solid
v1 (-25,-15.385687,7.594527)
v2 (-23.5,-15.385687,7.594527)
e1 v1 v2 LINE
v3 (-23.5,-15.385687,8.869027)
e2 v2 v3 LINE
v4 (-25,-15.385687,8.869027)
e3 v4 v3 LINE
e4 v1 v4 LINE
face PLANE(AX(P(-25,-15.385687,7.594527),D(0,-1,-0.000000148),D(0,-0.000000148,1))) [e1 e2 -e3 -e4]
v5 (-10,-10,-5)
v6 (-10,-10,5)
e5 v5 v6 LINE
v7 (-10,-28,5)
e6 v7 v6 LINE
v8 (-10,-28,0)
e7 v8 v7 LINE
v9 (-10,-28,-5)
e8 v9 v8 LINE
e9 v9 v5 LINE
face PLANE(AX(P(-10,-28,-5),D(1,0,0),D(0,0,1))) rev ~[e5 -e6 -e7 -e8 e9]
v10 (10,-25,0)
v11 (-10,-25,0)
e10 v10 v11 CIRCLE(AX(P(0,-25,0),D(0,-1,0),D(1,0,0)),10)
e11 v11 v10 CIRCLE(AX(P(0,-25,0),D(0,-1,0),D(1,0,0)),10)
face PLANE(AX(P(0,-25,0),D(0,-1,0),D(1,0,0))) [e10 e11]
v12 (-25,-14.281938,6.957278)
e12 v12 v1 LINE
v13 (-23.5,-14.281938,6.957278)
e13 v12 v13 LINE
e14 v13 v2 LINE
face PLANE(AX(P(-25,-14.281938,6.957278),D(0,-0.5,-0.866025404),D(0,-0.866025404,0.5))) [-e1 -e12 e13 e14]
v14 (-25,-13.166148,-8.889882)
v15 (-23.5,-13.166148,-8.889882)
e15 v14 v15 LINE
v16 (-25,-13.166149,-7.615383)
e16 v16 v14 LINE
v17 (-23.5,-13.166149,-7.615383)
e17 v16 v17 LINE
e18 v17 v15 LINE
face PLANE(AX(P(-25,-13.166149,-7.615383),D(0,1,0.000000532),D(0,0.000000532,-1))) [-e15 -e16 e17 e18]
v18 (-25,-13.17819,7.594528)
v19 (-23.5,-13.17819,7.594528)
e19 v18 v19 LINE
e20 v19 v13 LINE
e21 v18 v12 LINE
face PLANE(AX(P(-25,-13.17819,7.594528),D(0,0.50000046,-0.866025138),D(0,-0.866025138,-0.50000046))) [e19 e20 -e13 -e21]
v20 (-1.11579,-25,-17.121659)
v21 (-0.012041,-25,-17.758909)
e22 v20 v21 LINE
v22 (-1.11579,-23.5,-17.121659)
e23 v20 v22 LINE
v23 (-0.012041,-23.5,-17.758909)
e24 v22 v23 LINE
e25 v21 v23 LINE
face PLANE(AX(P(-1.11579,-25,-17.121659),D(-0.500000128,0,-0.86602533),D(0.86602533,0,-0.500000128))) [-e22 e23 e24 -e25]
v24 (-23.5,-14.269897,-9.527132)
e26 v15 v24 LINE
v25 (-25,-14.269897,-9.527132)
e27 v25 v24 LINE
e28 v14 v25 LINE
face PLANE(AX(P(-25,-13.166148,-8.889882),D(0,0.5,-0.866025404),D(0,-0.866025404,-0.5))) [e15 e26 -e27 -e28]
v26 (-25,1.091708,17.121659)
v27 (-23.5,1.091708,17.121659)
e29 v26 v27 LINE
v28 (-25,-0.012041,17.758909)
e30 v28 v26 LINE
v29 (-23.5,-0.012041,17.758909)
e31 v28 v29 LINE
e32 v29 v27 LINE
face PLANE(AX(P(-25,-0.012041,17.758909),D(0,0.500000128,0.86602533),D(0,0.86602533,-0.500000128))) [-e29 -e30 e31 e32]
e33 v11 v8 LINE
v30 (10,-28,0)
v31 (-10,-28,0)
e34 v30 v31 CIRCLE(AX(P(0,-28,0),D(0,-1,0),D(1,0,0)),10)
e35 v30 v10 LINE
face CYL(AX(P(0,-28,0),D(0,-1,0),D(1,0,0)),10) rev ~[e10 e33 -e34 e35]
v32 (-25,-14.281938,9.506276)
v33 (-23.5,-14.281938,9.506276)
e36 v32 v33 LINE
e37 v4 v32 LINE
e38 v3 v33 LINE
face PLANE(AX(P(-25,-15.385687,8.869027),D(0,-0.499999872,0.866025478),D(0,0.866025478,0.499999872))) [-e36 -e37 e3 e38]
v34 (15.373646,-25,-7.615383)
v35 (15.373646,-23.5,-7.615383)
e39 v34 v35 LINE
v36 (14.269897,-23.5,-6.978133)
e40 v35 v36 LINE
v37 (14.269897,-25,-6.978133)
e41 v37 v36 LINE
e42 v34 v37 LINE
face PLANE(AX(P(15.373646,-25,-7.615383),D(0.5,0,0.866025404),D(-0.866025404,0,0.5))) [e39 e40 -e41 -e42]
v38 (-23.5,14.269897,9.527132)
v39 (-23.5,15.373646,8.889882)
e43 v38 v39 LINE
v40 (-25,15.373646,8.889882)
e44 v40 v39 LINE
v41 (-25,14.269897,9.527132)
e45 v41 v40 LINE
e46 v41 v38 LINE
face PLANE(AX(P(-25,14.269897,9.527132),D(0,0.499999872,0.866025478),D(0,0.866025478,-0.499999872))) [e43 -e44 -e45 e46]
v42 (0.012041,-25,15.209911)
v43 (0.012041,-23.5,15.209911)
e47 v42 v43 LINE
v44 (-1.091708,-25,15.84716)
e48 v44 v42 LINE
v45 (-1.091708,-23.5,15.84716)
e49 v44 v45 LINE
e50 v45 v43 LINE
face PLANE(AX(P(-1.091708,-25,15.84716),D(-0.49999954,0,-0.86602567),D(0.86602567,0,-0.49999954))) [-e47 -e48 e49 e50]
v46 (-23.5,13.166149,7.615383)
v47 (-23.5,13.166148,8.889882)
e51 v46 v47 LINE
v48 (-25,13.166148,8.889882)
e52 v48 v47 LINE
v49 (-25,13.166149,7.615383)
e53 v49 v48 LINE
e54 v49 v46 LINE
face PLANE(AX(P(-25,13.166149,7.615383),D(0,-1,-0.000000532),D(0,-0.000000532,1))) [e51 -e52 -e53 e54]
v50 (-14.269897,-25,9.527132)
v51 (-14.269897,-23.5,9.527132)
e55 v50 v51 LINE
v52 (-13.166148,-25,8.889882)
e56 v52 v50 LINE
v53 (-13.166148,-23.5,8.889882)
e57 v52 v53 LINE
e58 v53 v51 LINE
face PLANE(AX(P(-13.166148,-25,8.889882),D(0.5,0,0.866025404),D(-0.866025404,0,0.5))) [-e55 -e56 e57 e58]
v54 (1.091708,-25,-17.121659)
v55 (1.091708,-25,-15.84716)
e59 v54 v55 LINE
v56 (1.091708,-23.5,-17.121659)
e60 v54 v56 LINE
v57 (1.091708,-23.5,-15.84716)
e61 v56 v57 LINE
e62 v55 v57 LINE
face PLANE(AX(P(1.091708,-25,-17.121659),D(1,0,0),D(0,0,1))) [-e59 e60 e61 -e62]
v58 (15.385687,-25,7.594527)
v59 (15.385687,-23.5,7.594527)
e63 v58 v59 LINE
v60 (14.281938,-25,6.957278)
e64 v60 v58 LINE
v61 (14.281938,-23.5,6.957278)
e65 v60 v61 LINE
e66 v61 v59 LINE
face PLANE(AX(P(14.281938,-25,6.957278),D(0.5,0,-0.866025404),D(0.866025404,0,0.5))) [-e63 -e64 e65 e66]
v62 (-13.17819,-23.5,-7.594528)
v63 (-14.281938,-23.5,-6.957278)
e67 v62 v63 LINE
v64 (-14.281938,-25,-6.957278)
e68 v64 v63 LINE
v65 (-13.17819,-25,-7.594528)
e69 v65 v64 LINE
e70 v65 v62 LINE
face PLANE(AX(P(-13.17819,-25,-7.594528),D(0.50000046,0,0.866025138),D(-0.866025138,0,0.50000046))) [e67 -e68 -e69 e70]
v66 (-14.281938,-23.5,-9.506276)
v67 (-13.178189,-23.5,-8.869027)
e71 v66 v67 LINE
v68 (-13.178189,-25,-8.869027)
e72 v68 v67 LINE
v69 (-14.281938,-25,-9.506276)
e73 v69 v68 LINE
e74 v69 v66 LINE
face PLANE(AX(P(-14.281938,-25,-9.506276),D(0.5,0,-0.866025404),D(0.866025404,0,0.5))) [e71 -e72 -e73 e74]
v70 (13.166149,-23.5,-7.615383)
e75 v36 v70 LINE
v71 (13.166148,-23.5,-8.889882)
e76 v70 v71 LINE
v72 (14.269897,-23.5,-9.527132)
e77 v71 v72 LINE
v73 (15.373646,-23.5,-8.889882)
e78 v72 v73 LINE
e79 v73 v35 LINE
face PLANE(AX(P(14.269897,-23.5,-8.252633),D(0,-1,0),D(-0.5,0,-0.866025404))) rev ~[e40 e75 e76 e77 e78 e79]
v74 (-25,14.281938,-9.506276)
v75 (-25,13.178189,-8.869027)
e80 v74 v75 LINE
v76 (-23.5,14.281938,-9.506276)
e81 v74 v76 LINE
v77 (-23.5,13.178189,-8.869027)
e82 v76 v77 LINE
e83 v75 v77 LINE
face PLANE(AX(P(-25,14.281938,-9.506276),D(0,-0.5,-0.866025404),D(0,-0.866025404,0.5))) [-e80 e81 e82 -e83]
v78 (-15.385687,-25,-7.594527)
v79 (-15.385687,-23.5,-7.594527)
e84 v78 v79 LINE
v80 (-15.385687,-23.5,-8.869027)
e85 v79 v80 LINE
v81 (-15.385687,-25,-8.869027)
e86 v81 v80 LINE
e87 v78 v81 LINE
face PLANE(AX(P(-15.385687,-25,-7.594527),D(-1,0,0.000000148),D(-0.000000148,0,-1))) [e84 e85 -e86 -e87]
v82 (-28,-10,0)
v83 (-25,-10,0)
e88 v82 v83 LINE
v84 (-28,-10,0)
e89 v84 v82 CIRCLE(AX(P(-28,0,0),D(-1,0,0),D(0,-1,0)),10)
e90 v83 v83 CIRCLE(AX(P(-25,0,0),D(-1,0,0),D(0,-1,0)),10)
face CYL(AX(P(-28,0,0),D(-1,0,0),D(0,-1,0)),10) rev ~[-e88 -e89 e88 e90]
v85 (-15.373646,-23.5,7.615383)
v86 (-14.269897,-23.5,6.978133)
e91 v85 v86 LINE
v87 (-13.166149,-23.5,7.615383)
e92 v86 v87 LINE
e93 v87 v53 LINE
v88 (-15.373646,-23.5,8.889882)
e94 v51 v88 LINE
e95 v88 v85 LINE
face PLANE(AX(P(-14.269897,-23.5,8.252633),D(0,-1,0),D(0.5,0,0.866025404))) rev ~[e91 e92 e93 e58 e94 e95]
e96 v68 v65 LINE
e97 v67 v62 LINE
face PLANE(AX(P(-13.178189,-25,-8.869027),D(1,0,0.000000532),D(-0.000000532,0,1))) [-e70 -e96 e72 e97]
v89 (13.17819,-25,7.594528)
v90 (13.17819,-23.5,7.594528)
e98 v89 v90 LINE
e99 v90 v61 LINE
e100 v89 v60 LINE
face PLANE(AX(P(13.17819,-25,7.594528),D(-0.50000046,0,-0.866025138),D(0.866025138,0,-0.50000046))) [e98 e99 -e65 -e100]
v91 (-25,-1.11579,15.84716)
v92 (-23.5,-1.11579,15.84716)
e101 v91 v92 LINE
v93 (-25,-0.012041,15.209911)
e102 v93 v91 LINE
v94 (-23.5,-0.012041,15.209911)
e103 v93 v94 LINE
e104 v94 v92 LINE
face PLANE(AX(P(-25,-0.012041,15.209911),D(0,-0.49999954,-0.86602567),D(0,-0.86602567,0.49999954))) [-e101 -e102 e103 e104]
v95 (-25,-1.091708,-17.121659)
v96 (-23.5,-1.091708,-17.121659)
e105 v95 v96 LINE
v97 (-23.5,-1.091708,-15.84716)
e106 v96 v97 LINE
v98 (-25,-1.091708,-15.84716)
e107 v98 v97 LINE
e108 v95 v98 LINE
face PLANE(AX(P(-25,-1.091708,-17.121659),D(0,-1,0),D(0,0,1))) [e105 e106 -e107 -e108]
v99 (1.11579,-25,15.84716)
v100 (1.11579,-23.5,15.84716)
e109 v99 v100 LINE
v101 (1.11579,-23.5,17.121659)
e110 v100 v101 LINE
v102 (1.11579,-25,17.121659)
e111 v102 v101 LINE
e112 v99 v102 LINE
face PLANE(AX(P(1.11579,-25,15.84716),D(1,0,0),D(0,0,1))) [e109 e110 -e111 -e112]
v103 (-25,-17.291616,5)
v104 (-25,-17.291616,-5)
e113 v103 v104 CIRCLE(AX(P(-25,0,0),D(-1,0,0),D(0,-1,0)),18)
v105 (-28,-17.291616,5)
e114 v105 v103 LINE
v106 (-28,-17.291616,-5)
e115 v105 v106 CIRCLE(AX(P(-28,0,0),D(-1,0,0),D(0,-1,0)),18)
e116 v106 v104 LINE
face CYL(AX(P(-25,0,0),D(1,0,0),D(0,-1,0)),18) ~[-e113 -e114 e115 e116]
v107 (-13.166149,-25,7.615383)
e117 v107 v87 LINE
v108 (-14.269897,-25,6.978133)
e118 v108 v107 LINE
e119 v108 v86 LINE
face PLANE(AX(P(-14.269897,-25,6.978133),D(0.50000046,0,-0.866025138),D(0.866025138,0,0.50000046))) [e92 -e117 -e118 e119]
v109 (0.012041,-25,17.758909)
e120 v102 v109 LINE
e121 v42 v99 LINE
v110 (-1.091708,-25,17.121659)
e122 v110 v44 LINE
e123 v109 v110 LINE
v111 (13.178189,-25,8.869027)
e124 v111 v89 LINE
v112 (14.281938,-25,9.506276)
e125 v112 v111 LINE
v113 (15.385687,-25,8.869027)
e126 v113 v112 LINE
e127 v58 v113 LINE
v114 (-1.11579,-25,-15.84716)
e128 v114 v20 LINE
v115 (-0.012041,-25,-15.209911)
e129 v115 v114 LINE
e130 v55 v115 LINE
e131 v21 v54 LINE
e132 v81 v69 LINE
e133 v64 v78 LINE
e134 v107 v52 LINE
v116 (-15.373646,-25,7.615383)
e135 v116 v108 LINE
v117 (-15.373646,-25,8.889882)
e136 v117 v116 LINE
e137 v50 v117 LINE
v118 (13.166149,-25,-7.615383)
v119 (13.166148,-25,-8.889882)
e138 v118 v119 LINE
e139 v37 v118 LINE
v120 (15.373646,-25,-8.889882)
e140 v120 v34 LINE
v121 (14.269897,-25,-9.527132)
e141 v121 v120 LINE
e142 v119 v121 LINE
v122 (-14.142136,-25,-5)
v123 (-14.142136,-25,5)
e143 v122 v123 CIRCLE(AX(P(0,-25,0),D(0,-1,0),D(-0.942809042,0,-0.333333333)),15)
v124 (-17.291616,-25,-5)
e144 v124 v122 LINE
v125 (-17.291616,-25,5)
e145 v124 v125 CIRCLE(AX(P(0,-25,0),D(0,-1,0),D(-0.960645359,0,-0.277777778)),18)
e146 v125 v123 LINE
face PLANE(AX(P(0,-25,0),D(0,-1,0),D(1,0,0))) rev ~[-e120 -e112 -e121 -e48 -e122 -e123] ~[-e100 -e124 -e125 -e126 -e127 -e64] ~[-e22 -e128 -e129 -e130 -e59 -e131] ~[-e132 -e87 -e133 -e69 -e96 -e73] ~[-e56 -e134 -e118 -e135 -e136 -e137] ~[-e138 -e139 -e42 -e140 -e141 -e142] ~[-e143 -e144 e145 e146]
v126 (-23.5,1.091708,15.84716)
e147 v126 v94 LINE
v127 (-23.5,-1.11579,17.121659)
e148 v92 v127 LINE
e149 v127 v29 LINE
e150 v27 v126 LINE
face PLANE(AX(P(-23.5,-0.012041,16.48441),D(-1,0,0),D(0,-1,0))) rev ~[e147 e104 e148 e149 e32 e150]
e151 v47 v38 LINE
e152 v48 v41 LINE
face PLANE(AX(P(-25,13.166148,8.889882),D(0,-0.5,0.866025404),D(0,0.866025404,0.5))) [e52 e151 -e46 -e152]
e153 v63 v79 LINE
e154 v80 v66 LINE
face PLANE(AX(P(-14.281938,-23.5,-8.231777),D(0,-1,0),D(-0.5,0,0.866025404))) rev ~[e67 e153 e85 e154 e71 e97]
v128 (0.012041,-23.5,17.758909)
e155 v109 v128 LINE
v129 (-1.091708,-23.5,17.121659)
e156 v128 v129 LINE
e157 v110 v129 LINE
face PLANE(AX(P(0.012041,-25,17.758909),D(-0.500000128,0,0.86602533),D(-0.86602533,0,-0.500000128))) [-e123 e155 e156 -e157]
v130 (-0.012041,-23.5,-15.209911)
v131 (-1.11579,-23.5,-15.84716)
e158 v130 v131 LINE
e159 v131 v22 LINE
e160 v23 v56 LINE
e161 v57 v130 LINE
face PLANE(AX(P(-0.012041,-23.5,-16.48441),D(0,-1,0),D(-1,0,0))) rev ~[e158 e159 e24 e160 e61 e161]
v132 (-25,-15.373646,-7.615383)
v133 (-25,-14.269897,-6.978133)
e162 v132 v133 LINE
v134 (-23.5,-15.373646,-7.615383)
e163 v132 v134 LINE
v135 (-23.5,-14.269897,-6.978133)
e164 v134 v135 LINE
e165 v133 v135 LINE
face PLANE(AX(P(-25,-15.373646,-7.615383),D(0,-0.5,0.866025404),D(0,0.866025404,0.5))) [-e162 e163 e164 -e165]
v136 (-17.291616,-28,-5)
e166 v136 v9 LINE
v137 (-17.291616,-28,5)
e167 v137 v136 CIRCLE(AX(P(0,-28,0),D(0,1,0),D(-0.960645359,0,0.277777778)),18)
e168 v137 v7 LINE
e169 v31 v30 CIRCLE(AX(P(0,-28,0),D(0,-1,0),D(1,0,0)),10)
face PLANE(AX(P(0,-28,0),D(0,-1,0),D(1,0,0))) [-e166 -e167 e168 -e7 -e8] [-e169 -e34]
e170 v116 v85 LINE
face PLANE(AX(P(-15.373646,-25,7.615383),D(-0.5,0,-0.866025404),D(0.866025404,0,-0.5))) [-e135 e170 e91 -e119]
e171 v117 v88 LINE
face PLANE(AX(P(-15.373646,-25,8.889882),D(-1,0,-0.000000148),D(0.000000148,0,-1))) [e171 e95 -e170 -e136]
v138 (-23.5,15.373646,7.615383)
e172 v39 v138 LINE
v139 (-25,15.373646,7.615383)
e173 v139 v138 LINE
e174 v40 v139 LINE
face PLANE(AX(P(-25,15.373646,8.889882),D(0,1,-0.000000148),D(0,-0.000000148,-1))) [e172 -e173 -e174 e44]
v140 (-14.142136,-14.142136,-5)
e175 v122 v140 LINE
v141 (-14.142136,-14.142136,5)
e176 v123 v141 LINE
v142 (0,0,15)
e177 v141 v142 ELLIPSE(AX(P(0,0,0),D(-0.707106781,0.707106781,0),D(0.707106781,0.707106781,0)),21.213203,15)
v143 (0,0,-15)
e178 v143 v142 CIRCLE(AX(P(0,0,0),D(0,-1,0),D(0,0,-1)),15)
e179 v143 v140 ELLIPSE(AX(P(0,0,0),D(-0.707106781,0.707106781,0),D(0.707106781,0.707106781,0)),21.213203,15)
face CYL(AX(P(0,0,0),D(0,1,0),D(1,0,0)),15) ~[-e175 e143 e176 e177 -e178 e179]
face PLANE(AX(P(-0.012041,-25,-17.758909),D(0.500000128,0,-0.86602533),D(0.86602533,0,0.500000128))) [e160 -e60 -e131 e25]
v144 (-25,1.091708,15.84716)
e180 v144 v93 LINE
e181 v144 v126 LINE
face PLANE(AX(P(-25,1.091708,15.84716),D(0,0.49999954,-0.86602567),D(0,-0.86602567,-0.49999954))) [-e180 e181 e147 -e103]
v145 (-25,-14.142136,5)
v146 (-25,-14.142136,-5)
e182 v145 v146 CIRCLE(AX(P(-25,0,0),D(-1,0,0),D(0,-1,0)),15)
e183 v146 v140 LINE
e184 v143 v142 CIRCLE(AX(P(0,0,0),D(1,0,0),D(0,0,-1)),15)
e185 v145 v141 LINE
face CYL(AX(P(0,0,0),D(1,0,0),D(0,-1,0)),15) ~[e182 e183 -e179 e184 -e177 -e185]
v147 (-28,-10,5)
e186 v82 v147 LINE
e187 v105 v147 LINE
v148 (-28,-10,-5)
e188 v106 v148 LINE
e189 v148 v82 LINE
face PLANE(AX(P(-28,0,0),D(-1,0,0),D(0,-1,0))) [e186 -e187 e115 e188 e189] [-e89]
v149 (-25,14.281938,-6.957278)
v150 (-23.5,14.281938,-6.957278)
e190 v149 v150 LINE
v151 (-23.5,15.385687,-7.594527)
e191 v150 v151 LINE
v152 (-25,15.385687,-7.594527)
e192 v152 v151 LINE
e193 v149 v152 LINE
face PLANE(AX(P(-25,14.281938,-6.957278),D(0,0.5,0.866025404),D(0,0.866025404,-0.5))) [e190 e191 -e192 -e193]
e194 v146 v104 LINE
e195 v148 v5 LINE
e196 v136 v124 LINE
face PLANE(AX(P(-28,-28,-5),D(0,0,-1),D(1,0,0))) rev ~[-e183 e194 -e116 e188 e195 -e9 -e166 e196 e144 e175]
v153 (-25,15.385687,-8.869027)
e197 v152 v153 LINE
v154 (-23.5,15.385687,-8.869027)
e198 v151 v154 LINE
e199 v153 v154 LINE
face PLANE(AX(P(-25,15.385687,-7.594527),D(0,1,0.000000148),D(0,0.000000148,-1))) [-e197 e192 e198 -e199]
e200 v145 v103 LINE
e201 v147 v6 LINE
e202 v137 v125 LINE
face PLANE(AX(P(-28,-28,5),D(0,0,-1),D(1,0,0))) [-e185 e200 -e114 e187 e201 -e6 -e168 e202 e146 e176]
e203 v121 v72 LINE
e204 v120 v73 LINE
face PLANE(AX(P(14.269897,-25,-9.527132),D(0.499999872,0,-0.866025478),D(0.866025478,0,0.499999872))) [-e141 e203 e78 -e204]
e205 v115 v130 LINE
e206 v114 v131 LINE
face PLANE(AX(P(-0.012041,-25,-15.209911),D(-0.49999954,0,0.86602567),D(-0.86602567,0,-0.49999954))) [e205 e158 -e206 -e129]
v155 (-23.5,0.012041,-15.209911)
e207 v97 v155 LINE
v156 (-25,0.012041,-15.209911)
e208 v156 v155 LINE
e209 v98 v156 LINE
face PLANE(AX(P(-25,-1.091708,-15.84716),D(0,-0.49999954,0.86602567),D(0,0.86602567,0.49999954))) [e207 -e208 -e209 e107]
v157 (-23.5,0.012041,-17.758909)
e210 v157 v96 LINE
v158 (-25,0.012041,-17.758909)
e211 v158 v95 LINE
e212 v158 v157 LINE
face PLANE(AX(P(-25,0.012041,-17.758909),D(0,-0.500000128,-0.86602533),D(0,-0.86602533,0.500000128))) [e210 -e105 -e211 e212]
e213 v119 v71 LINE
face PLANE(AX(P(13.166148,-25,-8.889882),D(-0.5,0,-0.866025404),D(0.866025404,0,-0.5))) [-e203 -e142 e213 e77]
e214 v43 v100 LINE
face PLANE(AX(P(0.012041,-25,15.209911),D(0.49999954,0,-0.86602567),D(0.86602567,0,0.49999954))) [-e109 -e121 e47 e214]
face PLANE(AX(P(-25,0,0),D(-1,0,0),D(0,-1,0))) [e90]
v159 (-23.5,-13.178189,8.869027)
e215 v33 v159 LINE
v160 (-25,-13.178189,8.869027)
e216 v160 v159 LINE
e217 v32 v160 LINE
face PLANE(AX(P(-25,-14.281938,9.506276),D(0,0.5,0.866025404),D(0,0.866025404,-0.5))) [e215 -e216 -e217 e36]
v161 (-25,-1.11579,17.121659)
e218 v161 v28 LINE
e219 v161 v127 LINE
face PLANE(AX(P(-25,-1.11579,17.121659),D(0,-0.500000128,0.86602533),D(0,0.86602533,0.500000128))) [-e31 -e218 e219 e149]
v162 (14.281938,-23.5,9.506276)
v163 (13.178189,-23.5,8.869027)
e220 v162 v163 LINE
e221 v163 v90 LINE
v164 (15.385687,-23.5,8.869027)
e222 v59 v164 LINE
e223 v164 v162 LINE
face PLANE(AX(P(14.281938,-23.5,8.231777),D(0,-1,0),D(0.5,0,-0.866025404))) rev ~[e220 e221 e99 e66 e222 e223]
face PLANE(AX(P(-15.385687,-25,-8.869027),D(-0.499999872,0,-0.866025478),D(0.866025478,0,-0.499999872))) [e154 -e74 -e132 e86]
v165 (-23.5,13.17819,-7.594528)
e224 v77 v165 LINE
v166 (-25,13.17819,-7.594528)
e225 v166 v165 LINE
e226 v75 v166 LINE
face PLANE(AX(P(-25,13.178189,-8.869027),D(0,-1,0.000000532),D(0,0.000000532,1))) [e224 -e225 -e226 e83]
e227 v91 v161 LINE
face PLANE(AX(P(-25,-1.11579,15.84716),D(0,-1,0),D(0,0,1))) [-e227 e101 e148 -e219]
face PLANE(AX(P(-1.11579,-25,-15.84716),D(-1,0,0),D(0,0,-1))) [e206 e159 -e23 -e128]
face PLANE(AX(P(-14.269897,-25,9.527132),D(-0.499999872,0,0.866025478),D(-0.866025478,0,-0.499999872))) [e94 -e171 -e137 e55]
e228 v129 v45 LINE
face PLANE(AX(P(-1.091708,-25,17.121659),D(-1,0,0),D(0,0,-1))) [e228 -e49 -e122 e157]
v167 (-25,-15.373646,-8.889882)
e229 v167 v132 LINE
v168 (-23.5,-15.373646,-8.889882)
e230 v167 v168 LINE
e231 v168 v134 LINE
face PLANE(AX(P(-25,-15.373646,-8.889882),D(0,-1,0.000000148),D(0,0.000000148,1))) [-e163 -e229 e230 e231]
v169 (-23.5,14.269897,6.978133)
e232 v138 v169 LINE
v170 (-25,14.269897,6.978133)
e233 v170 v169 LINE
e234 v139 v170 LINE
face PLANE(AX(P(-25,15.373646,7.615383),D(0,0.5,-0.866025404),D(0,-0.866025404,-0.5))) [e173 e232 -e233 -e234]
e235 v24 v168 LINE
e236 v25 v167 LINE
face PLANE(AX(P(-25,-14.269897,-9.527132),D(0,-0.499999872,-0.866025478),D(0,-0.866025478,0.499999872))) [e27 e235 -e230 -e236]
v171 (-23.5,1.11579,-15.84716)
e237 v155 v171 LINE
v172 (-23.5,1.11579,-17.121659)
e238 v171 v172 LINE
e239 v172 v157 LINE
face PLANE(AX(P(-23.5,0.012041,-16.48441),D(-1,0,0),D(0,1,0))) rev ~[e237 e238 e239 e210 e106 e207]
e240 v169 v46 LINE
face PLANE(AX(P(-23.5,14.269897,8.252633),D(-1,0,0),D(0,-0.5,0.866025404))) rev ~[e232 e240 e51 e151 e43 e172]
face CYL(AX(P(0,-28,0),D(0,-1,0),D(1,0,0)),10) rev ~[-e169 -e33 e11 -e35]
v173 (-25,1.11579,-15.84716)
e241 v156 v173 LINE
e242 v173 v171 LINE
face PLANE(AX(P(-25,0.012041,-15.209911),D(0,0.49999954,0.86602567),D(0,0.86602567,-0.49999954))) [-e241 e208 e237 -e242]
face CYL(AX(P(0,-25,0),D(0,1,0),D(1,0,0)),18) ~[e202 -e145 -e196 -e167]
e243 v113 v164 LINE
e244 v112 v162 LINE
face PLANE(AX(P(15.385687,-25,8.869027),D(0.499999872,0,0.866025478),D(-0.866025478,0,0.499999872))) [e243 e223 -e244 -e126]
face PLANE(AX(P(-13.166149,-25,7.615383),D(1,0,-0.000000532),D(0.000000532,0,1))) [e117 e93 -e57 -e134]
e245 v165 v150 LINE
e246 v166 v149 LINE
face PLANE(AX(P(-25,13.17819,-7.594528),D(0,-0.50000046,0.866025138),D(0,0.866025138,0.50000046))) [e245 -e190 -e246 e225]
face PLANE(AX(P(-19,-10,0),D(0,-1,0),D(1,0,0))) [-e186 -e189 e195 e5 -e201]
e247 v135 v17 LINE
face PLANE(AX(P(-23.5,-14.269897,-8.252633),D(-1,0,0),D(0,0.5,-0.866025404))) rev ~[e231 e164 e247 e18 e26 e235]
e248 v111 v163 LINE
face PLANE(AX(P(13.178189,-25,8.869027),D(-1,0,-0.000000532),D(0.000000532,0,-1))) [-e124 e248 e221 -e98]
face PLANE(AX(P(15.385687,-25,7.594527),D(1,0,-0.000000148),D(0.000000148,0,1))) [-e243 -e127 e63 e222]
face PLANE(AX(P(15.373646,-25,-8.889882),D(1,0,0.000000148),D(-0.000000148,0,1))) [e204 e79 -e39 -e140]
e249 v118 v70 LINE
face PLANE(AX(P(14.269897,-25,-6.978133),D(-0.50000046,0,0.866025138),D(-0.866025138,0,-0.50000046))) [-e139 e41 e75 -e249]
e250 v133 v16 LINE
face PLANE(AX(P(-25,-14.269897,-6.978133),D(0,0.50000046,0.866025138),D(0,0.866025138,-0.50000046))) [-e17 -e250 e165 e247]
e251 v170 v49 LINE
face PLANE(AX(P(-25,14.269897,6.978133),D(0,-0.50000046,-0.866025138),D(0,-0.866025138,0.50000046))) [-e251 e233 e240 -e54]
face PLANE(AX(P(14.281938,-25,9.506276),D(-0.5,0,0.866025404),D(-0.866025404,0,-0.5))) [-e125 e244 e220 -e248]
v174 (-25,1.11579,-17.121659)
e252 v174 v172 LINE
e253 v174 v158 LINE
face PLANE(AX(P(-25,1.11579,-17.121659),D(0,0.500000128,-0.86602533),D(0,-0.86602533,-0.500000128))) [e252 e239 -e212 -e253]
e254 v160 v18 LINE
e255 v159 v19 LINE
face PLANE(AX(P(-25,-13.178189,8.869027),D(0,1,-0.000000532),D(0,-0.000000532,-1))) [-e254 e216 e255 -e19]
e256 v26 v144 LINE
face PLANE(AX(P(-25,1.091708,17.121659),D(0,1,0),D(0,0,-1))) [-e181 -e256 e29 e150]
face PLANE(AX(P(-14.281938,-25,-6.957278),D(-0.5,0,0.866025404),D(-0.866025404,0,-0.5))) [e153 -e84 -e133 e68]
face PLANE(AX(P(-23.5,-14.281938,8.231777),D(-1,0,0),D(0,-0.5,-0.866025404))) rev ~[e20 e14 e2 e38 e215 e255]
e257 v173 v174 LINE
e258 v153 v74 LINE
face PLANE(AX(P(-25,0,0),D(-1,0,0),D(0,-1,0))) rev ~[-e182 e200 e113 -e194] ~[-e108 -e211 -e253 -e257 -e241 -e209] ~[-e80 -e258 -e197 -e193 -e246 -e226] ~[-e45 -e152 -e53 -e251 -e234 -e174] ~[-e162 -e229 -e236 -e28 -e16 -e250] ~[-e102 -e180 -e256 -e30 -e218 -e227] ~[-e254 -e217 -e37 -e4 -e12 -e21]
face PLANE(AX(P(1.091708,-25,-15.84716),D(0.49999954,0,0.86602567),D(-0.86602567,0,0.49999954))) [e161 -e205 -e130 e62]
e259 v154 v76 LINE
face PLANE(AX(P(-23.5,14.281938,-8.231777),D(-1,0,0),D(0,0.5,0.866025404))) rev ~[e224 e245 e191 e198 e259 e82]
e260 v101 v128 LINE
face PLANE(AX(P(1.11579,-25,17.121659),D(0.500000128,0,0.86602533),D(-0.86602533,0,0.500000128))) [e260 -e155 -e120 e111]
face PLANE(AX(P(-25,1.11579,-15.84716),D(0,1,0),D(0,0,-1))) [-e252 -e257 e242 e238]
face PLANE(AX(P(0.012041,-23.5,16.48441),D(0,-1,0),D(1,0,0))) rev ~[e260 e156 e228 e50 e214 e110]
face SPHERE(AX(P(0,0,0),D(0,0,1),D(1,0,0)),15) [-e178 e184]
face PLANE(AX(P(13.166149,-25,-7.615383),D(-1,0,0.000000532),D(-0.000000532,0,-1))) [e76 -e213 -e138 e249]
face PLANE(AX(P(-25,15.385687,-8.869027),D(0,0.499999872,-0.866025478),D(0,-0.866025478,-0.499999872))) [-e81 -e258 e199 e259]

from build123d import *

# Parameters (mm, degrees)
SPHERE_ANGLE          = 90
SKETCH_R              = 15
PAD_DEPTH             = 25
SKETCH001_R           = 15
PAD001_DEPTH          = 25
SKETCH002_R           = 18
PAD002_DEPTH          = 3
SKETCH003_R           = 18
PAD003_DEPTH          = 3
PAD004_DEPTH          = 1.5
POLARPATTERN_COUNT    = 6
PAD005_DEPTH          = 1.5
POLARPATTERN001_COUNT = 6
SKETCH010_W           = 18
SKETCH010_H           = 10
POCKET_DEPTH          = 18
SKETCH011_R           = 10
POCKET001_DEPTH       = 3
SKETCH012_R           = 10
POCKET002_DEPTH       = 3


with BuildPart() as part:
    # Sphere → Sphere (revolve)
    with BuildSketch(Plane.XZ):
        with BuildLine():
            ThreePointArc((0, -15), (15, 0), (0, 15))
            Line((0, 15), (0, -15))
        make_face()
    revolve(axis=Axis((0, 0, 0), (0, 0, 1)), revolution_arc=SPHERE_ANGLE)

    # Sketch (on Face2 of Sphere) → Pad (new body)
    with BuildSketch(Plane.XZ):
        Circle(SKETCH_R)
    extrude(amount=PAD_DEPTH)

    # Sketch001 (on Face2 of Pad) → Pad001 (join)
    with BuildSketch(Plane(origin=(0, 0, 0), x_dir=(0, -1, 0), z_dir=(-1, 0, 0))):
        Circle(SKETCH001_R)
    extrude(amount=PAD001_DEPTH)

    # Sketch002 (on Face4 of Pad001) → Pad002 (join)
    with BuildSketch(Plane(origin=(-25, 0, 0), x_dir=(0, -1, 0), z_dir=(-1, 0, 0))):
        Circle(SKETCH002_R)
    extrude(amount=PAD002_DEPTH)

    # Sketch003 (on Face7 of Pad002) → Pad003 (join)
    with BuildSketch(Plane.XZ.offset(25)):
        Circle(SKETCH003_R)
    extrude(amount=PAD003_DEPTH)

    # Sketch004 (on Face2 of Pad003) → Pad004 (join)
    with BuildSketch(Plane(origin=(0, -25, 0), x_dir=(-1, 0, 0), z_dir=(0, 1, 0))):
        Polygon((-1.11579, 17.121659), (-0.012041, 17.758909), (1.091708, 17.121659), (1.091708, 15.84716), (-0.012041, 15.209911), (-1.11579, 15.84716), align=None)
    pad004 = extrude(amount=PAD004_DEPTH)

    # PolarPattern: Pad004 ×6 about axis
    polarpattern_axis = Axis((0, -25, 0), (0, 1, 0))
    for i in range(1, POLARPATTERN_COUNT):
        add(pad004.rotate(polarpattern_axis, i * 360 / POLARPATTERN_COUNT))

    # Sketch009 (on Face49 of PolarPattern) → Pad005 (join)
    with BuildSketch(Plane.YZ.offset(-25)):
        Polygon((-1.11579, 17.121659), (-0.012041, 17.758909), (1.091708, 17.121659), (1.091708, 15.84716), (-0.012041, 15.209911), (-1.11579, 15.84716), align=None)
    pad005 = extrude(amount=PAD005_DEPTH)

    # PolarPattern001: Pad005 ×6 about axis
    polarpattern001_axis = Axis((-25, 0, 0), (1, 0, 0))
    for i in range(1, POLARPATTERN001_COUNT):
        add(pad005.rotate(polarpattern001_axis, i * 360 / POLARPATTERN001_COUNT))

    # Sketch010 (on Face3 of PolarPattern001) → Pocket (cut)
    with BuildSketch(Plane.XZ.offset(28)):
        with Locations((-19, 0)):
            Rectangle(SKETCH010_W, SKETCH010_H)
    extrude(amount=-POCKET_DEPTH, mode=Mode.SUBTRACT)

    # Sketch011 (on Face4 of Pocket) → Pocket001 (cut)
    with BuildSketch(Plane.XZ.offset(28)):
        Circle(SKETCH011_R)
    extrude(amount=-POCKET001_DEPTH, mode=Mode.SUBTRACT)

    # Sketch012 (on Face50 of Pocket001) → Pocket002 (cut)
    with BuildSketch(Plane(origin=(-28, 0, 0), x_dir=(0, -1, 0), z_dir=(-1, 0, 0))):
        Circle(SKETCH012_R)
    extrude(amount=-POCKET002_DEPTH, mode=Mode.SUBTRACT)


solid = part.part
